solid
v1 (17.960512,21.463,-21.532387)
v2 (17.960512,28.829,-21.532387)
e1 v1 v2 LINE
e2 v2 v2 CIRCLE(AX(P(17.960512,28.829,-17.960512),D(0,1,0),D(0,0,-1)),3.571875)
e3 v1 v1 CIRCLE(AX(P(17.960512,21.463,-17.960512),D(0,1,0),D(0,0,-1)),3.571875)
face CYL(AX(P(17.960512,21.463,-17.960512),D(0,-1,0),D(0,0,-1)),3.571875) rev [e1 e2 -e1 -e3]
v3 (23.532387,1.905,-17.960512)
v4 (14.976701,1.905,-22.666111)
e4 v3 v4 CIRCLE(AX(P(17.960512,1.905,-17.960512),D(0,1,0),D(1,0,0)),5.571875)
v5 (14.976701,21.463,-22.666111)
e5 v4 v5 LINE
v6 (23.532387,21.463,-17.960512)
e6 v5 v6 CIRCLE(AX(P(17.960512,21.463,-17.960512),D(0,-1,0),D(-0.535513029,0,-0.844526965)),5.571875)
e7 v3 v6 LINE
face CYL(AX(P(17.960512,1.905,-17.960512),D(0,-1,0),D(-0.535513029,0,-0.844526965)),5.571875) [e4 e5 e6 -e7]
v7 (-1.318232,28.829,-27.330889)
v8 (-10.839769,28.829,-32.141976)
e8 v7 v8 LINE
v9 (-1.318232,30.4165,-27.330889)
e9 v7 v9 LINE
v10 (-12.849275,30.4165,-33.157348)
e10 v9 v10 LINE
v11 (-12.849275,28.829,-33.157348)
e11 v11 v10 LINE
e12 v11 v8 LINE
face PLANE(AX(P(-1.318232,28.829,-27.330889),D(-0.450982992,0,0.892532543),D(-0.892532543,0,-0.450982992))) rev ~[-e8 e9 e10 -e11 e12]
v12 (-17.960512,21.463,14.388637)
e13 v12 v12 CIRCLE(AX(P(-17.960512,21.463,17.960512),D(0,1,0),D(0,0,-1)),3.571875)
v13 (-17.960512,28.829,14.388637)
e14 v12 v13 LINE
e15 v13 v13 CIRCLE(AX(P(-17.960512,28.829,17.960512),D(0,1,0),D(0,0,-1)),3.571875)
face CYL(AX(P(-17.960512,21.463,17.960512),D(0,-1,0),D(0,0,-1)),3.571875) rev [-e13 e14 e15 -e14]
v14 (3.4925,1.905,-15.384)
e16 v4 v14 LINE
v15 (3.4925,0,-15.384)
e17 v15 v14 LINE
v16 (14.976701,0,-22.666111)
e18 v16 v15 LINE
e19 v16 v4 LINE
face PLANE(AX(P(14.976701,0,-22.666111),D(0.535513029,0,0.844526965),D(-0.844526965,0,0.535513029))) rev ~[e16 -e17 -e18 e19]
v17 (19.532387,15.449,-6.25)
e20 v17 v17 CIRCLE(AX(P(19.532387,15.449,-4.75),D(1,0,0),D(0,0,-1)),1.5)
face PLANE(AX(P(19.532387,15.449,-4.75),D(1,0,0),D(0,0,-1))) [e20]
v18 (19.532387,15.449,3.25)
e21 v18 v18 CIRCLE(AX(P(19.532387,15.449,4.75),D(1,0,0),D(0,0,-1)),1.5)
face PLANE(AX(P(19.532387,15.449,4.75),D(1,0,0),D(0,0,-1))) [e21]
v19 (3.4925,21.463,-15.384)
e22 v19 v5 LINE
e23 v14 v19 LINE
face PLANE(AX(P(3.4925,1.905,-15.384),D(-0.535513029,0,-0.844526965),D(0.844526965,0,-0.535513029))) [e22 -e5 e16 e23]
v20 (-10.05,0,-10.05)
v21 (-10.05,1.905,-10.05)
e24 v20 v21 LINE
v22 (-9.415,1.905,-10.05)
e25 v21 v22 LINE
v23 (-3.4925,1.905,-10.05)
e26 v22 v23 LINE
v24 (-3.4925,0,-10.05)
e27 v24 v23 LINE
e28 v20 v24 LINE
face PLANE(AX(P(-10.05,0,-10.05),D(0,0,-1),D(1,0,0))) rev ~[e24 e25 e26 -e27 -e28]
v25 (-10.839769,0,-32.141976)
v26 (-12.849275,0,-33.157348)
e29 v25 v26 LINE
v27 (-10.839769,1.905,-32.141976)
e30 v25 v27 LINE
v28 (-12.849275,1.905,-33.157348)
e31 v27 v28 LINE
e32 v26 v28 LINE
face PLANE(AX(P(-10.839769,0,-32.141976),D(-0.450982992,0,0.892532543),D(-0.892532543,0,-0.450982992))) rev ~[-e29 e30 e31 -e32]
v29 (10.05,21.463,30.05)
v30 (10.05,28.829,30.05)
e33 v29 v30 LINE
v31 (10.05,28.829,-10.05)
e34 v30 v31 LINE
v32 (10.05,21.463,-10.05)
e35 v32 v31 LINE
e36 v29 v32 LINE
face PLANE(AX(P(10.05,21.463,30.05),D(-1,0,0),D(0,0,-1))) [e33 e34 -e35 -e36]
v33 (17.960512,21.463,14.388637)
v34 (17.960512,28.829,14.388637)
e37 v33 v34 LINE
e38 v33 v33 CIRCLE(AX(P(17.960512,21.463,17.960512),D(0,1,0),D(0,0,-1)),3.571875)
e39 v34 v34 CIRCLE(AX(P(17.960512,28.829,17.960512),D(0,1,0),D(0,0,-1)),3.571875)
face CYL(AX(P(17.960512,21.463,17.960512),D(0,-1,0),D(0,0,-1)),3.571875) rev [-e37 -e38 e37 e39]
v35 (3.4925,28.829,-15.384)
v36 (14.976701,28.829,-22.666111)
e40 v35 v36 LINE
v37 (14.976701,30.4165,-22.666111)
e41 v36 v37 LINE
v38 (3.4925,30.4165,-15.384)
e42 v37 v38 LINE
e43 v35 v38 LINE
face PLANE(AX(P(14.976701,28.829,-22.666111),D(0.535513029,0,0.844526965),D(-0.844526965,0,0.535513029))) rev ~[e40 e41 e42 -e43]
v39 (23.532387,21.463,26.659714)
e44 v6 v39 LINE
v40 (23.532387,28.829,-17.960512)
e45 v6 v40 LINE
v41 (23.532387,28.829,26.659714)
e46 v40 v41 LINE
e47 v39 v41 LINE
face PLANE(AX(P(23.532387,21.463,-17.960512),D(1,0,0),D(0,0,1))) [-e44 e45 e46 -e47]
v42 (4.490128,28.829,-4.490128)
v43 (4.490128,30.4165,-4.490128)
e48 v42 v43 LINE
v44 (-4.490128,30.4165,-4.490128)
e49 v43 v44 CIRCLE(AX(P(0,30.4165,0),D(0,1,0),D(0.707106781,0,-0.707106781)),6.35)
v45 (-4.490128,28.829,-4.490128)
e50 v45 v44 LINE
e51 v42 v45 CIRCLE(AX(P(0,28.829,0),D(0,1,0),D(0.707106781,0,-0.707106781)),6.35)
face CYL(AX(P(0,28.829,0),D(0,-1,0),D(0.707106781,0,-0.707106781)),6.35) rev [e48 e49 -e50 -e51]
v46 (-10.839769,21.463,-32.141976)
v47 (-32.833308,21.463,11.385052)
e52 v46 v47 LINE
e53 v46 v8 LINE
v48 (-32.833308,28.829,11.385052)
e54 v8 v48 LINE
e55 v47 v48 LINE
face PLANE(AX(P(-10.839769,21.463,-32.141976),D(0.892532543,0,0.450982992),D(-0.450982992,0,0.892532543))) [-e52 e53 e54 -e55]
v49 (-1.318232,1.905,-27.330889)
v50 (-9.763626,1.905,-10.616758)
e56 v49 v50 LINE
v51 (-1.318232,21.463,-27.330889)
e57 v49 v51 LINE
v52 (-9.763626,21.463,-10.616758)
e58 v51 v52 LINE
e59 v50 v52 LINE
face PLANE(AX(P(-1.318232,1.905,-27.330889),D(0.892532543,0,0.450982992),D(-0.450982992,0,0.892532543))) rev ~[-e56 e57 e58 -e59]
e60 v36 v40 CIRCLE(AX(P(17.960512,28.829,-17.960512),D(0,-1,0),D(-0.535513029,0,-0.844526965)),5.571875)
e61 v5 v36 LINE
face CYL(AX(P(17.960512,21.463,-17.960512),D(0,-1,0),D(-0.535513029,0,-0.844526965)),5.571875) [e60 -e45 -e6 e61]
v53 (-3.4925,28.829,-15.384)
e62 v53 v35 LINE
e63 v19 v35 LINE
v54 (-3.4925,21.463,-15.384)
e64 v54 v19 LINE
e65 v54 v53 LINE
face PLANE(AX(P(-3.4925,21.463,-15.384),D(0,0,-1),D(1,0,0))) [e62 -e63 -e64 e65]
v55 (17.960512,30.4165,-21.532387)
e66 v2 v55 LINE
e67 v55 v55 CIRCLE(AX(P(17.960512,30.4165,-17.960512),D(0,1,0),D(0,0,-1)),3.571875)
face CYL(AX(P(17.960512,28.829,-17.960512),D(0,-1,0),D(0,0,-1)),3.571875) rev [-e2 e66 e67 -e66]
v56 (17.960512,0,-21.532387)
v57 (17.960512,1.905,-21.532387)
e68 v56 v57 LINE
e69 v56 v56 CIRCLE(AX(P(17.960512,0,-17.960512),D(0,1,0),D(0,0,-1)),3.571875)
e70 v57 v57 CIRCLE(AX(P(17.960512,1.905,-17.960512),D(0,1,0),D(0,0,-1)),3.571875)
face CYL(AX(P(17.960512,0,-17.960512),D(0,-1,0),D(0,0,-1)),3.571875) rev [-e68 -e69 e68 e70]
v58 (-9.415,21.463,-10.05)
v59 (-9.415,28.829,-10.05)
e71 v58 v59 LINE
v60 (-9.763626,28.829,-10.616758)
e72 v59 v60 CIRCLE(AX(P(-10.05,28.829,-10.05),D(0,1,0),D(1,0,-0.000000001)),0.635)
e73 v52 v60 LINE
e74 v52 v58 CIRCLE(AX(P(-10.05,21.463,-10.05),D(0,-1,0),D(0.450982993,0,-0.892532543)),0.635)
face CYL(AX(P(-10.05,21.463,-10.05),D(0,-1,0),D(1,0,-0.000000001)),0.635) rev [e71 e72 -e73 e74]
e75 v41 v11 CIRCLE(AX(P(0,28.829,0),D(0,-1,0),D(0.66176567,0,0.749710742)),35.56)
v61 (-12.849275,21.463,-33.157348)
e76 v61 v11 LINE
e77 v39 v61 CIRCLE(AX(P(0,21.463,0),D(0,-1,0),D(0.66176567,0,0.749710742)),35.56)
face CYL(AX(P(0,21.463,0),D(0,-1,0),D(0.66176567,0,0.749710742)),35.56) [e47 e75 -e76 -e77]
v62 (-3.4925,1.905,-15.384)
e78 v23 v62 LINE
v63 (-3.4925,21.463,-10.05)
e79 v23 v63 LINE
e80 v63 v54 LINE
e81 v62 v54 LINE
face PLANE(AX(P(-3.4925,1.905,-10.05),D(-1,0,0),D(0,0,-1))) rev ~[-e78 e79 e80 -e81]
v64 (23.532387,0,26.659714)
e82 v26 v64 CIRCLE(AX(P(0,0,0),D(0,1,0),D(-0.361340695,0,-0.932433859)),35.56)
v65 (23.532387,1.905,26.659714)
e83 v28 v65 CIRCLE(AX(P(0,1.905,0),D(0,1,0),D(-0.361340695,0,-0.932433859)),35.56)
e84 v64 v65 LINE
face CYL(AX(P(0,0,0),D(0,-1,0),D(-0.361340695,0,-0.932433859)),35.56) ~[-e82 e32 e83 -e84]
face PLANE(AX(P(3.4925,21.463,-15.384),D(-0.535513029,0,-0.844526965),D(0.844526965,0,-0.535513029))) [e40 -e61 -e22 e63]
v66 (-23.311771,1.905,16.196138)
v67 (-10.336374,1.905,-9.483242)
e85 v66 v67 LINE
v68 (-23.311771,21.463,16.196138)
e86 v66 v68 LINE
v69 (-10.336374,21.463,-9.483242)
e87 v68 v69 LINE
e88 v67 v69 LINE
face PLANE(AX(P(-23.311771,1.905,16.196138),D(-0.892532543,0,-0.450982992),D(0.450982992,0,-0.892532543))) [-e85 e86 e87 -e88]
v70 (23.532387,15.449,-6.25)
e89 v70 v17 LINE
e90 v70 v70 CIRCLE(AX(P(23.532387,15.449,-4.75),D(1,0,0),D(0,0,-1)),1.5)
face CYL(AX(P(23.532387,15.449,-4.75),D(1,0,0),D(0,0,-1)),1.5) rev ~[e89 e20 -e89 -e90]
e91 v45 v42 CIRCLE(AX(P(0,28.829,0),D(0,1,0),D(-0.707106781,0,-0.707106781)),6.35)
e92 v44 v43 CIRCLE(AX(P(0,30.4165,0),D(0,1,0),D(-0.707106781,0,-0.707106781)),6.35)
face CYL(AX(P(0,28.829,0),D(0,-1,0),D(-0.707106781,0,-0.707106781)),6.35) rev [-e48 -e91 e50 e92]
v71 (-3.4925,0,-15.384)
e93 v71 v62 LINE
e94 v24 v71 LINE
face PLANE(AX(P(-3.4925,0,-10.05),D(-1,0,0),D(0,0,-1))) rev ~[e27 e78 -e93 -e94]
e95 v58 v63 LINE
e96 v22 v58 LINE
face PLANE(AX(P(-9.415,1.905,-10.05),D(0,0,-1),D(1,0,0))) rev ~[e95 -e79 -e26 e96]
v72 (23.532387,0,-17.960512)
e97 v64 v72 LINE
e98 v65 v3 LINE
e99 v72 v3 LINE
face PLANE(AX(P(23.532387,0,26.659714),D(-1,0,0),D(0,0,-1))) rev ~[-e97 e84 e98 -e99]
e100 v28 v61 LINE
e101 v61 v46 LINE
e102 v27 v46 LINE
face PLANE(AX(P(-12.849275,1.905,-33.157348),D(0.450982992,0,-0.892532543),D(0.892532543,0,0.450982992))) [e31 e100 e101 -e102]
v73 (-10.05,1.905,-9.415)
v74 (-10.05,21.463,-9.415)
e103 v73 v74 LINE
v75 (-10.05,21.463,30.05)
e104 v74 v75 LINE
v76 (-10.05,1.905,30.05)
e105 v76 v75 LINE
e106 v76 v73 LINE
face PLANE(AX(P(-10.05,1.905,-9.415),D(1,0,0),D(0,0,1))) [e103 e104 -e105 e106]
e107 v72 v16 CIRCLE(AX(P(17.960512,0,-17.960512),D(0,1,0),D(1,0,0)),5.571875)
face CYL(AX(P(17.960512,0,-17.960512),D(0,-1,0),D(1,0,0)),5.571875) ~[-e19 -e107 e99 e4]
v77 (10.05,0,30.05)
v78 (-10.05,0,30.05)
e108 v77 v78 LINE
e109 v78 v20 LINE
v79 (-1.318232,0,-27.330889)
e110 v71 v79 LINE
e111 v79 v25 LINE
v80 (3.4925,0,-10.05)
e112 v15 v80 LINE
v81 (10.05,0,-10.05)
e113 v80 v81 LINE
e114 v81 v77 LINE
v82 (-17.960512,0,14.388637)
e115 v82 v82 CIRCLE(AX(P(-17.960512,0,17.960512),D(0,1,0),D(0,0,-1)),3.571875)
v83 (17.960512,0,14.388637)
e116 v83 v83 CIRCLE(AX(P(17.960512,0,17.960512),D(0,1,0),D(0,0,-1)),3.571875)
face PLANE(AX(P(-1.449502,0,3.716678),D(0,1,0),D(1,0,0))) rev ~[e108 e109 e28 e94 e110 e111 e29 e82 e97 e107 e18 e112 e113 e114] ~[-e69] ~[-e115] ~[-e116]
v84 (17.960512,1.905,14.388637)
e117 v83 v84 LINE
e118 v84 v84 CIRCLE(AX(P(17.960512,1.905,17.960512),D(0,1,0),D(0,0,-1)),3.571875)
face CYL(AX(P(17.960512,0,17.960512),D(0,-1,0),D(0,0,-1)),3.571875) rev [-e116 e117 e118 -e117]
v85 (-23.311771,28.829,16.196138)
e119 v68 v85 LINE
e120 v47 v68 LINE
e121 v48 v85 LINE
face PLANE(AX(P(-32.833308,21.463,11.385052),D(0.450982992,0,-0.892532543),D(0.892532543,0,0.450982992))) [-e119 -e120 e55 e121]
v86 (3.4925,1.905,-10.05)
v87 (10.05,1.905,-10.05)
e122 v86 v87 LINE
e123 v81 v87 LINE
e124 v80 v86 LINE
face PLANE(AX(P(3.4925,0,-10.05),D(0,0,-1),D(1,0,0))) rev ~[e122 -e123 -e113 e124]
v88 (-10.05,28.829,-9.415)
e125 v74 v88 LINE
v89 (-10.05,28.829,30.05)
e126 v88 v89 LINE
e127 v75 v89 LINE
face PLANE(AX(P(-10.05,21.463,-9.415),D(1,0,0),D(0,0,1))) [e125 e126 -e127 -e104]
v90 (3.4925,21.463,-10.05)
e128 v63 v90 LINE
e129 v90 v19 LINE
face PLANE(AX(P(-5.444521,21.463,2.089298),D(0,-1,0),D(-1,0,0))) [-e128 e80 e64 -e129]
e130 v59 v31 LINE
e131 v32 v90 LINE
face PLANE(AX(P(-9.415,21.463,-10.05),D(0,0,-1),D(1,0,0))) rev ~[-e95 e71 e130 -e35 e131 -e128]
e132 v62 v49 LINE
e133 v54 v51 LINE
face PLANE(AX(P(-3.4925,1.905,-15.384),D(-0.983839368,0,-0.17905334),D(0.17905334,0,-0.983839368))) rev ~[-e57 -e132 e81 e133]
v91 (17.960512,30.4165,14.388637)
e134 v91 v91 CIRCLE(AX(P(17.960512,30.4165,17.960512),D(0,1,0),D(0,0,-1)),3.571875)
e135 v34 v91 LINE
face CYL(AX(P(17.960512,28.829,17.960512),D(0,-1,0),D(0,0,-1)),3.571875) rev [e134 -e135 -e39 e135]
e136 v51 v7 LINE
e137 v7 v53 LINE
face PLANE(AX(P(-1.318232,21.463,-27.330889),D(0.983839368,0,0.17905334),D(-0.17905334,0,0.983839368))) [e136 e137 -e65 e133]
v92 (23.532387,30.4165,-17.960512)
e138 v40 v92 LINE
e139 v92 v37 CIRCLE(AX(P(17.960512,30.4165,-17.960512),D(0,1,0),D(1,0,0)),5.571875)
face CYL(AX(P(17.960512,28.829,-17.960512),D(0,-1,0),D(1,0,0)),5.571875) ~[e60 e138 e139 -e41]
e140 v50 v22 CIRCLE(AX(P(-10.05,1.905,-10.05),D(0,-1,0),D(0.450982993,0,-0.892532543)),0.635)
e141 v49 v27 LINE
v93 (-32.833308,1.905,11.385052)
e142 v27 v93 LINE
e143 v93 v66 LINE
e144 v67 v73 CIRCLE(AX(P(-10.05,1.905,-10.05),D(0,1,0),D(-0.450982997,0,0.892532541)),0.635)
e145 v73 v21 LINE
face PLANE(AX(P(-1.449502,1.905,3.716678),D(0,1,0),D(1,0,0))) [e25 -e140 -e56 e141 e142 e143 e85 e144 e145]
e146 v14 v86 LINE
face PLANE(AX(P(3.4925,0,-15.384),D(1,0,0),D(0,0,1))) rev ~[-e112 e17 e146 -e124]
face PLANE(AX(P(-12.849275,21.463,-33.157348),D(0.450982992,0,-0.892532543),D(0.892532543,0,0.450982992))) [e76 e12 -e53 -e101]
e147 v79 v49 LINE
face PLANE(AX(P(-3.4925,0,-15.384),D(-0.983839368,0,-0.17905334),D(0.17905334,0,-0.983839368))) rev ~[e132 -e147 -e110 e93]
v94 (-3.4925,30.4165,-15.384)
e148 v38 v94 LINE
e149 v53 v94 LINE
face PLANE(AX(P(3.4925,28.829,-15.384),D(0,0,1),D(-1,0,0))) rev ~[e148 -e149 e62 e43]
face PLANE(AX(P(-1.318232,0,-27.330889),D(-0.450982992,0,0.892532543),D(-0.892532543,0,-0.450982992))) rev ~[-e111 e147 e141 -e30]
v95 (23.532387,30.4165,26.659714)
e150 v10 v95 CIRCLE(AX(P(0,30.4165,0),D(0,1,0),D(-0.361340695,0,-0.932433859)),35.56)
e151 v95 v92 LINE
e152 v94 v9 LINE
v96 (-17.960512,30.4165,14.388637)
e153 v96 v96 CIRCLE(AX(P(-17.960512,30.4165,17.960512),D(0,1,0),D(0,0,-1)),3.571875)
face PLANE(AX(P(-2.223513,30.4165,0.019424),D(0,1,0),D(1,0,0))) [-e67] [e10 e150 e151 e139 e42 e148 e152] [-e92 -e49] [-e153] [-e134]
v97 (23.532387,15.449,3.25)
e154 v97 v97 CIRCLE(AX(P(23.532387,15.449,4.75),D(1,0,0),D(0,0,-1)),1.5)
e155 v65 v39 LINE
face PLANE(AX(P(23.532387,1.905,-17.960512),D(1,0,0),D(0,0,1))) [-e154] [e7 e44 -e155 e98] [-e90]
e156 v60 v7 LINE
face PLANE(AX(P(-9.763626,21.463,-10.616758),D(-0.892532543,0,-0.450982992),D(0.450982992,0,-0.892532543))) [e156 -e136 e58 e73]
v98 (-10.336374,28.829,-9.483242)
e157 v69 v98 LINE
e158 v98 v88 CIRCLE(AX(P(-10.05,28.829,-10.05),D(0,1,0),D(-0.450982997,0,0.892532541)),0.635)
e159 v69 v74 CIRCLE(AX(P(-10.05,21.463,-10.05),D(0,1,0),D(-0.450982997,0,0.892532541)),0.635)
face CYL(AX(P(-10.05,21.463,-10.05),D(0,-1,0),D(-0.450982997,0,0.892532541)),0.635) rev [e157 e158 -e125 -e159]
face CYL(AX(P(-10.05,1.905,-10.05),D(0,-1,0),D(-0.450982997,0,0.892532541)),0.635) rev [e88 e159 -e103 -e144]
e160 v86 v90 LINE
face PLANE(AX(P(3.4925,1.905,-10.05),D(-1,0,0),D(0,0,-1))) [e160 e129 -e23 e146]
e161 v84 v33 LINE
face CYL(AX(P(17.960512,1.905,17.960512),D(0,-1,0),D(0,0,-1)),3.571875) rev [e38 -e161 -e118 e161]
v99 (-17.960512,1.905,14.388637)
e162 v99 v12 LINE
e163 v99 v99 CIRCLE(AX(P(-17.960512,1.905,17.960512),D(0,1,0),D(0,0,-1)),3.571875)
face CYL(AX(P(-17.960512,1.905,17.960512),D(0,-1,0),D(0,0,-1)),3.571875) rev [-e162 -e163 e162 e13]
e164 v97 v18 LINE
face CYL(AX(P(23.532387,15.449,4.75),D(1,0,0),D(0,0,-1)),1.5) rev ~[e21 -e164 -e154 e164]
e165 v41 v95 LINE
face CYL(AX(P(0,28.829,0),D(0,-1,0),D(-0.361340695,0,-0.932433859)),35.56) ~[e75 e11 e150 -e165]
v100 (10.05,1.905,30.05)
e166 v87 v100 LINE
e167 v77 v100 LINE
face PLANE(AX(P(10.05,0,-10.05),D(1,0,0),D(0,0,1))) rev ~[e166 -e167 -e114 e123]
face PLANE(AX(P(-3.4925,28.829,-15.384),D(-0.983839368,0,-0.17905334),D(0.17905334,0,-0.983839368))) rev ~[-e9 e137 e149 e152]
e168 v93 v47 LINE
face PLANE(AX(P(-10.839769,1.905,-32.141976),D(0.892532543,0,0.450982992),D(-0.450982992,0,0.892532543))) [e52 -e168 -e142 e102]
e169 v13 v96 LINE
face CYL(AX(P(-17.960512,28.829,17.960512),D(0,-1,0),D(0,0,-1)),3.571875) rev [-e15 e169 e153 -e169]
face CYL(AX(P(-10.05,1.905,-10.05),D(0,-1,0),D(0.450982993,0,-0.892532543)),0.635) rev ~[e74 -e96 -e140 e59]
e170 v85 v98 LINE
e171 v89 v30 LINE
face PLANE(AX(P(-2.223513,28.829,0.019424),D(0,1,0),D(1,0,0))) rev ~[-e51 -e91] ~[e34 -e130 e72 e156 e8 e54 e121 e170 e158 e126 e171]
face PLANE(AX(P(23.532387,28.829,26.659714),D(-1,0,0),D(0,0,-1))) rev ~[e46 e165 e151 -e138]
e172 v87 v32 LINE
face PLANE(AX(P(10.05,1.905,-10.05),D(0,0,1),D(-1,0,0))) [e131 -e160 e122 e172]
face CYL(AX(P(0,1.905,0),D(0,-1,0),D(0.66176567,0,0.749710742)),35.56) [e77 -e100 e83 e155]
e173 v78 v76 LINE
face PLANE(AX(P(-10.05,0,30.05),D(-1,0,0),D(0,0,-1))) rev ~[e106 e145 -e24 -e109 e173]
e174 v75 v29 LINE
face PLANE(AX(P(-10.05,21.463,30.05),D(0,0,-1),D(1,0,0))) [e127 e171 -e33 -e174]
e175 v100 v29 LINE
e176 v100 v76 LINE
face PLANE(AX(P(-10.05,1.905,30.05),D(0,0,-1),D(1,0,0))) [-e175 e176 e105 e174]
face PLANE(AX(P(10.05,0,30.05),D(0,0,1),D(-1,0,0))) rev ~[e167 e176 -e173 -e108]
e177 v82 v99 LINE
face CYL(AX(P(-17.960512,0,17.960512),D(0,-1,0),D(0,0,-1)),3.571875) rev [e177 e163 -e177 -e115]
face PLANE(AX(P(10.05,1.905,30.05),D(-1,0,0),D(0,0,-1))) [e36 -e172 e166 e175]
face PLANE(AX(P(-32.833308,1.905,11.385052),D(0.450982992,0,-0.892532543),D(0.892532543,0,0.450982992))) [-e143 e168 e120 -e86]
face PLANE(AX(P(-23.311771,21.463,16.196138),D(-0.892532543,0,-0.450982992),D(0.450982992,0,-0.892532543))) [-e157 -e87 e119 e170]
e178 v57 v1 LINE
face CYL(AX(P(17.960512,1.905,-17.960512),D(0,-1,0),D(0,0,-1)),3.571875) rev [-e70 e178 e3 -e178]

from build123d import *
from build123d.topology import SkipClean

# Parameters (mm, degrees)
SKETCH2_R           = 3.571875
BOSS_EXTRUDE1_DEPTH = 1.905
SKETCH3_R           = 3.571875
BOSS_EXTRUDE2_DEPTH = 19.558
SKETCH4_R           = 3.571875
BOSS_EXTRUDE3_DEPTH = 7.366
SKETCH5_R           = 3.571875
BOSS_EXTRUDE4_DEPTH = 1.5875
SKETCH6_R           = 1.5
CUT_EXTRUDE3_DEPTH  = 4


with BuildPart() as part:
    # Sketch2 → Boss-Extrude1 (new body)
    with BuildSketch(Plane(origin=(0, 0, 0), x_dir=(1, 0, 0), z_dir=(0, 1, 0))):
        with BuildLine():
            Line((10.05, -30.05), (-10.05, -30.05))
            Line((-10.05, -30.05), (-10.05, 10.05))
            Line((-10.05, 10.05), (-3.4925, 10.05))
            Line((-3.4925, 10.05), (-3.4925, 15.384))
            Line((-3.4925, 15.384), (-1.318232079, 27.330889022))
            Line((-1.318232079, 27.330889022), (-10.839769253, 32.141975578))
            Line((-10.839769253, 32.141975578), (-12.849275114, 33.15734804))
            ThreePointArc((-12.849275114, 33.15734804), (-30.38177824, -18.478667457), (23.532387242, -26.659714002))
            Line((23.532387242, -26.659714002), (23.532387242, -17.960512242))
            Line((23.532387242, -17.960512242), (23.532387242, 17.960512242))
            ThreePointArc((23.532387242, 17.960512242), (20.645690581, 22.842684741), (14.976700581, 22.666110928))
            Line((14.976700581, 22.666110928), (3.4925, 15.384))
            Line((3.4925, 15.384), (3.4925, 10.05))
            Line((3.4925, 10.05), (10.05, 10.05))
            Line((10.05, 10.05), (10.05, -30.05))
        make_face()
        with Locations(Location((17.960512242, 17.960512242, 0), (0, 0, 90))):
            Circle(SKETCH2_R, mode=Mode.SUBTRACT)
        with Locations(Location((17.960512242, -17.960512242, 0), (0, 0, 90))):
            Circle(SKETCH2_R, mode=Mode.SUBTRACT)
        with Locations(Location((-17.960512242, -17.960512242, 0), (0, 0, 90))):
            Circle(SKETCH2_R, mode=Mode.SUBTRACT)
    extrude(amount=BOSS_EXTRUDE1_DEPTH)

    # Sketch3 → Boss-Extrude2 (add)
    # profile 1 of 2: a face of its own
    with SkipClean():  # the faces are left unmerged after this step: merging them gives an invalid solid
        with BuildSketch(Plane(origin=(0, 1.905, 0), x_dir=(1, 0, 0), z_dir=(0, 1, 0))):
            with BuildLine():
                Line((-10.839769253, 32.141975578), (-32.833307795, -11.385051501))
                Line((-32.833307795, -11.385051501), (-23.311770621, -16.196138057))
                Line((-23.311770621, -16.196138057), (-10.3363742, 9.483241835))
                ThreePointArc((-10.3363742, 9.483241835), (-10.197196408, 9.432296011), (-10.05, 9.415))
                Line((-10.05, 9.415), (-10.05, -30.05))
                Line((-10.05, -30.05), (10.05, -30.05))
                Line((10.05, -30.05), (10.05, 10.05))
                Line((10.05, 10.05), (3.4925, 10.05))
                Line((3.4925, 10.05), (3.4925, 15.384))
                Line((3.4925, 15.384), (14.976700581, 22.666110928))
                ThreePointArc((14.976700581, 22.666110928), (20.645690581, 22.842684741), (23.532387242, 17.960512242))
                Line((23.532387242, 17.960512242), (23.532387242, -26.659714002))
                ThreePointArc((23.532387242, -26.659714002), (-30.38177824, -18.478667457), (-12.849275114, 33.15734804))
                Line((-12.849275114, 33.15734804), (-10.839769253, 32.141975578))
            make_face()
            with Locations(Location((17.960512242, 17.960512242, 0), (0, 0, 90))):
                Circle(SKETCH3_R, mode=Mode.SUBTRACT)
            with Locations(Location((17.960512242, -17.960512242, 0), (0, 0, 90))):
                Circle(SKETCH3_R, mode=Mode.SUBTRACT)
            with Locations(Location((-17.960512242, -17.960512242, 0), (0, 0, 90))):
                Circle(SKETCH3_R, mode=Mode.SUBTRACT)
        # profile 2 of 2: a face of its own
        with BuildSketch(Plane(origin=(0, 1.905, 0), x_dir=(1, 0, 0), z_dir=(0, 1, 0))):
            with BuildLine():
                Line((-1.318232079, 27.330889022), (-9.7636258, 10.616758165))
                ThreePointArc((-9.7636258, 10.616758165), (-9.509133743, 10.382699101), (-9.415, 10.05))
                Line((-9.415, 10.05), (-3.4925, 10.05))
                Line((-3.4925, 10.05), (-3.4925, 15.384))
                Line((-3.4925, 15.384), (-1.318232079, 27.330889022))
            make_face()
        extrude(amount=BOSS_EXTRUDE2_DEPTH)

    # Sketch4 → Boss-Extrude3 (add)
    with SkipClean():  # the faces are left unmerged after this step: merging them gives an invalid solid
        with BuildSketch(Plane(origin=(0, 21.463, 0), x_dir=(1, 0, 0), z_dir=(0, 1, 0))):
            with BuildLine():
                Line((0, 10.05), (-3.4925, 10.05))
                Line((-3.4925, 10.05), (-9.415, 10.05))
                ThreePointArc((-9.415, 10.05), (-9.509133743, 10.382699101), (-9.7636258, 10.616758165))
                Line((-9.7636258, 10.616758165), (-1.318232079, 27.330889022))
                Line((-1.318232079, 27.330889022), (-3.4925, 15.384))
                Line((-3.4925, 15.384), (3.4925, 15.384))
                Line((3.4925, 15.384), (14.976700581, 22.666110928))
                ThreePointArc((14.976700581, 22.666110928), (20.645690581, 22.842684741), (23.532387242, 17.960512242))
                Line((23.532387242, 17.960512242), (23.532387242, -26.659714002))
                ThreePointArc((23.532387242, -26.659714002), (-30.38177824, -18.478667457), (-12.849275114, 33.15734804))
                Line((-12.849275114, 33.15734804), (-10.839769253, 32.141975578))
                Line((-10.839769253, 32.141975578), (-32.833307795, -11.385051501))
                Line((-32.833307795, -11.385051501), (-23.311770621, -16.196138057))
                Line((-23.311770621, -16.196138057), (-10.3363742, 9.483241835))
                ThreePointArc((-10.3363742, 9.483241835), (-10.197196408, 9.432296011), (-10.05, 9.415))
                Line((-10.05, 9.415), (-10.05, -30.05))
                Line((-10.05, -30.05), (10.05, -30.05))
                Line((10.05, -30.05), (10.05, 10.05))
                Line((10.05, 10.05), (3.4925, 10.05))
                Line((3.4925, 10.05), (0, 10.05))
            make_face()
            with Locations(Location((17.960512242, 17.960512242, 0), (0, 0, 90))):
                Circle(SKETCH4_R, mode=Mode.SUBTRACT)
            with Locations(Location((17.960512242, -17.960512242, 0), (0, 0, 90))):
                Circle(SKETCH4_R, mode=Mode.SUBTRACT)
            with Locations(Location((-17.960512242, -17.960512242, 0), (0, 0, 90))):
                Circle(SKETCH4_R, mode=Mode.SUBTRACT)
        extrude(amount=BOSS_EXTRUDE3_DEPTH)

    # Sketch5 → Boss-Extrude4 (add)
    with SkipClean():  # the faces are left unmerged after this step: merging them gives an invalid solid
        with BuildSketch(Plane(origin=(0, 28.829, 0), x_dir=(1, 0, 0), z_dir=(0, 1, 0))):
            with BuildLine():
                Line((3.4925, 15.384), (-3.4925, 15.384))
                Line((-3.4925, 15.384), (-1.318232079, 27.330889022))
                Line((-1.318232079, 27.330889022), (-12.849275114, 33.15734804))
                ThreePointArc((-12.849275114, 33.15734804), (-30.38177824, -18.478667457), (23.532387242, -26.659714002))
                Line((23.532387242, -26.659714002), (23.532387242, 17.960512242))
                ThreePointArc((23.532387242, 17.960512242), (20.645690581, 22.842684741), (14.976700581, 22.666110928))
                Line((14.976700581, 22.666110928), (3.4925, 15.384))
            make_face()
            with Locations(Location((17.960512242, 17.960512242, 0), (0, 0, 90))):
                Circle(SKETCH5_R, mode=Mode.SUBTRACT)
            with Locations(Location((17.960512242, -17.960512242, 0), (0, 0, 90))):
                Circle(SKETCH5_R, mode=Mode.SUBTRACT)
            with Locations(Location((-17.960512242, -17.960512242, 0), (0, 0, 90))):
                Circle(SKETCH5_R, mode=Mode.SUBTRACT)
            with BuildLine():
                ThreePointArc((4.490128061, 4.490128061), (0, 6.35), (-4.490128061, 4.490128061))
                ThreePointArc((-4.490128061, 4.490128061), (0, -6.35), (4.490128061, 4.490128061))
            make_face(mode=Mode.SUBTRACT)
        extrude(amount=BOSS_EXTRUDE4_DEPTH)

    # Sketch6 → Cut-Extrude3 (cut)
    with SkipClean():  # the faces are left unmerged after this step: merging them gives an invalid solid
        with BuildSketch(Plane(origin=(23.532387242, 0, 0), x_dir=(0, 0, -1), z_dir=(1, 0, 0))):
            with Locations((-4.75, 15.449)):
                Circle(SKETCH6_R)
            with Locations((4.75, 15.449)):
                Circle(SKETCH6_R)
        extrude(amount=-CUT_EXTRUDE3_DEPTH, mode=Mode.SUBTRACT)


solid = part.part
